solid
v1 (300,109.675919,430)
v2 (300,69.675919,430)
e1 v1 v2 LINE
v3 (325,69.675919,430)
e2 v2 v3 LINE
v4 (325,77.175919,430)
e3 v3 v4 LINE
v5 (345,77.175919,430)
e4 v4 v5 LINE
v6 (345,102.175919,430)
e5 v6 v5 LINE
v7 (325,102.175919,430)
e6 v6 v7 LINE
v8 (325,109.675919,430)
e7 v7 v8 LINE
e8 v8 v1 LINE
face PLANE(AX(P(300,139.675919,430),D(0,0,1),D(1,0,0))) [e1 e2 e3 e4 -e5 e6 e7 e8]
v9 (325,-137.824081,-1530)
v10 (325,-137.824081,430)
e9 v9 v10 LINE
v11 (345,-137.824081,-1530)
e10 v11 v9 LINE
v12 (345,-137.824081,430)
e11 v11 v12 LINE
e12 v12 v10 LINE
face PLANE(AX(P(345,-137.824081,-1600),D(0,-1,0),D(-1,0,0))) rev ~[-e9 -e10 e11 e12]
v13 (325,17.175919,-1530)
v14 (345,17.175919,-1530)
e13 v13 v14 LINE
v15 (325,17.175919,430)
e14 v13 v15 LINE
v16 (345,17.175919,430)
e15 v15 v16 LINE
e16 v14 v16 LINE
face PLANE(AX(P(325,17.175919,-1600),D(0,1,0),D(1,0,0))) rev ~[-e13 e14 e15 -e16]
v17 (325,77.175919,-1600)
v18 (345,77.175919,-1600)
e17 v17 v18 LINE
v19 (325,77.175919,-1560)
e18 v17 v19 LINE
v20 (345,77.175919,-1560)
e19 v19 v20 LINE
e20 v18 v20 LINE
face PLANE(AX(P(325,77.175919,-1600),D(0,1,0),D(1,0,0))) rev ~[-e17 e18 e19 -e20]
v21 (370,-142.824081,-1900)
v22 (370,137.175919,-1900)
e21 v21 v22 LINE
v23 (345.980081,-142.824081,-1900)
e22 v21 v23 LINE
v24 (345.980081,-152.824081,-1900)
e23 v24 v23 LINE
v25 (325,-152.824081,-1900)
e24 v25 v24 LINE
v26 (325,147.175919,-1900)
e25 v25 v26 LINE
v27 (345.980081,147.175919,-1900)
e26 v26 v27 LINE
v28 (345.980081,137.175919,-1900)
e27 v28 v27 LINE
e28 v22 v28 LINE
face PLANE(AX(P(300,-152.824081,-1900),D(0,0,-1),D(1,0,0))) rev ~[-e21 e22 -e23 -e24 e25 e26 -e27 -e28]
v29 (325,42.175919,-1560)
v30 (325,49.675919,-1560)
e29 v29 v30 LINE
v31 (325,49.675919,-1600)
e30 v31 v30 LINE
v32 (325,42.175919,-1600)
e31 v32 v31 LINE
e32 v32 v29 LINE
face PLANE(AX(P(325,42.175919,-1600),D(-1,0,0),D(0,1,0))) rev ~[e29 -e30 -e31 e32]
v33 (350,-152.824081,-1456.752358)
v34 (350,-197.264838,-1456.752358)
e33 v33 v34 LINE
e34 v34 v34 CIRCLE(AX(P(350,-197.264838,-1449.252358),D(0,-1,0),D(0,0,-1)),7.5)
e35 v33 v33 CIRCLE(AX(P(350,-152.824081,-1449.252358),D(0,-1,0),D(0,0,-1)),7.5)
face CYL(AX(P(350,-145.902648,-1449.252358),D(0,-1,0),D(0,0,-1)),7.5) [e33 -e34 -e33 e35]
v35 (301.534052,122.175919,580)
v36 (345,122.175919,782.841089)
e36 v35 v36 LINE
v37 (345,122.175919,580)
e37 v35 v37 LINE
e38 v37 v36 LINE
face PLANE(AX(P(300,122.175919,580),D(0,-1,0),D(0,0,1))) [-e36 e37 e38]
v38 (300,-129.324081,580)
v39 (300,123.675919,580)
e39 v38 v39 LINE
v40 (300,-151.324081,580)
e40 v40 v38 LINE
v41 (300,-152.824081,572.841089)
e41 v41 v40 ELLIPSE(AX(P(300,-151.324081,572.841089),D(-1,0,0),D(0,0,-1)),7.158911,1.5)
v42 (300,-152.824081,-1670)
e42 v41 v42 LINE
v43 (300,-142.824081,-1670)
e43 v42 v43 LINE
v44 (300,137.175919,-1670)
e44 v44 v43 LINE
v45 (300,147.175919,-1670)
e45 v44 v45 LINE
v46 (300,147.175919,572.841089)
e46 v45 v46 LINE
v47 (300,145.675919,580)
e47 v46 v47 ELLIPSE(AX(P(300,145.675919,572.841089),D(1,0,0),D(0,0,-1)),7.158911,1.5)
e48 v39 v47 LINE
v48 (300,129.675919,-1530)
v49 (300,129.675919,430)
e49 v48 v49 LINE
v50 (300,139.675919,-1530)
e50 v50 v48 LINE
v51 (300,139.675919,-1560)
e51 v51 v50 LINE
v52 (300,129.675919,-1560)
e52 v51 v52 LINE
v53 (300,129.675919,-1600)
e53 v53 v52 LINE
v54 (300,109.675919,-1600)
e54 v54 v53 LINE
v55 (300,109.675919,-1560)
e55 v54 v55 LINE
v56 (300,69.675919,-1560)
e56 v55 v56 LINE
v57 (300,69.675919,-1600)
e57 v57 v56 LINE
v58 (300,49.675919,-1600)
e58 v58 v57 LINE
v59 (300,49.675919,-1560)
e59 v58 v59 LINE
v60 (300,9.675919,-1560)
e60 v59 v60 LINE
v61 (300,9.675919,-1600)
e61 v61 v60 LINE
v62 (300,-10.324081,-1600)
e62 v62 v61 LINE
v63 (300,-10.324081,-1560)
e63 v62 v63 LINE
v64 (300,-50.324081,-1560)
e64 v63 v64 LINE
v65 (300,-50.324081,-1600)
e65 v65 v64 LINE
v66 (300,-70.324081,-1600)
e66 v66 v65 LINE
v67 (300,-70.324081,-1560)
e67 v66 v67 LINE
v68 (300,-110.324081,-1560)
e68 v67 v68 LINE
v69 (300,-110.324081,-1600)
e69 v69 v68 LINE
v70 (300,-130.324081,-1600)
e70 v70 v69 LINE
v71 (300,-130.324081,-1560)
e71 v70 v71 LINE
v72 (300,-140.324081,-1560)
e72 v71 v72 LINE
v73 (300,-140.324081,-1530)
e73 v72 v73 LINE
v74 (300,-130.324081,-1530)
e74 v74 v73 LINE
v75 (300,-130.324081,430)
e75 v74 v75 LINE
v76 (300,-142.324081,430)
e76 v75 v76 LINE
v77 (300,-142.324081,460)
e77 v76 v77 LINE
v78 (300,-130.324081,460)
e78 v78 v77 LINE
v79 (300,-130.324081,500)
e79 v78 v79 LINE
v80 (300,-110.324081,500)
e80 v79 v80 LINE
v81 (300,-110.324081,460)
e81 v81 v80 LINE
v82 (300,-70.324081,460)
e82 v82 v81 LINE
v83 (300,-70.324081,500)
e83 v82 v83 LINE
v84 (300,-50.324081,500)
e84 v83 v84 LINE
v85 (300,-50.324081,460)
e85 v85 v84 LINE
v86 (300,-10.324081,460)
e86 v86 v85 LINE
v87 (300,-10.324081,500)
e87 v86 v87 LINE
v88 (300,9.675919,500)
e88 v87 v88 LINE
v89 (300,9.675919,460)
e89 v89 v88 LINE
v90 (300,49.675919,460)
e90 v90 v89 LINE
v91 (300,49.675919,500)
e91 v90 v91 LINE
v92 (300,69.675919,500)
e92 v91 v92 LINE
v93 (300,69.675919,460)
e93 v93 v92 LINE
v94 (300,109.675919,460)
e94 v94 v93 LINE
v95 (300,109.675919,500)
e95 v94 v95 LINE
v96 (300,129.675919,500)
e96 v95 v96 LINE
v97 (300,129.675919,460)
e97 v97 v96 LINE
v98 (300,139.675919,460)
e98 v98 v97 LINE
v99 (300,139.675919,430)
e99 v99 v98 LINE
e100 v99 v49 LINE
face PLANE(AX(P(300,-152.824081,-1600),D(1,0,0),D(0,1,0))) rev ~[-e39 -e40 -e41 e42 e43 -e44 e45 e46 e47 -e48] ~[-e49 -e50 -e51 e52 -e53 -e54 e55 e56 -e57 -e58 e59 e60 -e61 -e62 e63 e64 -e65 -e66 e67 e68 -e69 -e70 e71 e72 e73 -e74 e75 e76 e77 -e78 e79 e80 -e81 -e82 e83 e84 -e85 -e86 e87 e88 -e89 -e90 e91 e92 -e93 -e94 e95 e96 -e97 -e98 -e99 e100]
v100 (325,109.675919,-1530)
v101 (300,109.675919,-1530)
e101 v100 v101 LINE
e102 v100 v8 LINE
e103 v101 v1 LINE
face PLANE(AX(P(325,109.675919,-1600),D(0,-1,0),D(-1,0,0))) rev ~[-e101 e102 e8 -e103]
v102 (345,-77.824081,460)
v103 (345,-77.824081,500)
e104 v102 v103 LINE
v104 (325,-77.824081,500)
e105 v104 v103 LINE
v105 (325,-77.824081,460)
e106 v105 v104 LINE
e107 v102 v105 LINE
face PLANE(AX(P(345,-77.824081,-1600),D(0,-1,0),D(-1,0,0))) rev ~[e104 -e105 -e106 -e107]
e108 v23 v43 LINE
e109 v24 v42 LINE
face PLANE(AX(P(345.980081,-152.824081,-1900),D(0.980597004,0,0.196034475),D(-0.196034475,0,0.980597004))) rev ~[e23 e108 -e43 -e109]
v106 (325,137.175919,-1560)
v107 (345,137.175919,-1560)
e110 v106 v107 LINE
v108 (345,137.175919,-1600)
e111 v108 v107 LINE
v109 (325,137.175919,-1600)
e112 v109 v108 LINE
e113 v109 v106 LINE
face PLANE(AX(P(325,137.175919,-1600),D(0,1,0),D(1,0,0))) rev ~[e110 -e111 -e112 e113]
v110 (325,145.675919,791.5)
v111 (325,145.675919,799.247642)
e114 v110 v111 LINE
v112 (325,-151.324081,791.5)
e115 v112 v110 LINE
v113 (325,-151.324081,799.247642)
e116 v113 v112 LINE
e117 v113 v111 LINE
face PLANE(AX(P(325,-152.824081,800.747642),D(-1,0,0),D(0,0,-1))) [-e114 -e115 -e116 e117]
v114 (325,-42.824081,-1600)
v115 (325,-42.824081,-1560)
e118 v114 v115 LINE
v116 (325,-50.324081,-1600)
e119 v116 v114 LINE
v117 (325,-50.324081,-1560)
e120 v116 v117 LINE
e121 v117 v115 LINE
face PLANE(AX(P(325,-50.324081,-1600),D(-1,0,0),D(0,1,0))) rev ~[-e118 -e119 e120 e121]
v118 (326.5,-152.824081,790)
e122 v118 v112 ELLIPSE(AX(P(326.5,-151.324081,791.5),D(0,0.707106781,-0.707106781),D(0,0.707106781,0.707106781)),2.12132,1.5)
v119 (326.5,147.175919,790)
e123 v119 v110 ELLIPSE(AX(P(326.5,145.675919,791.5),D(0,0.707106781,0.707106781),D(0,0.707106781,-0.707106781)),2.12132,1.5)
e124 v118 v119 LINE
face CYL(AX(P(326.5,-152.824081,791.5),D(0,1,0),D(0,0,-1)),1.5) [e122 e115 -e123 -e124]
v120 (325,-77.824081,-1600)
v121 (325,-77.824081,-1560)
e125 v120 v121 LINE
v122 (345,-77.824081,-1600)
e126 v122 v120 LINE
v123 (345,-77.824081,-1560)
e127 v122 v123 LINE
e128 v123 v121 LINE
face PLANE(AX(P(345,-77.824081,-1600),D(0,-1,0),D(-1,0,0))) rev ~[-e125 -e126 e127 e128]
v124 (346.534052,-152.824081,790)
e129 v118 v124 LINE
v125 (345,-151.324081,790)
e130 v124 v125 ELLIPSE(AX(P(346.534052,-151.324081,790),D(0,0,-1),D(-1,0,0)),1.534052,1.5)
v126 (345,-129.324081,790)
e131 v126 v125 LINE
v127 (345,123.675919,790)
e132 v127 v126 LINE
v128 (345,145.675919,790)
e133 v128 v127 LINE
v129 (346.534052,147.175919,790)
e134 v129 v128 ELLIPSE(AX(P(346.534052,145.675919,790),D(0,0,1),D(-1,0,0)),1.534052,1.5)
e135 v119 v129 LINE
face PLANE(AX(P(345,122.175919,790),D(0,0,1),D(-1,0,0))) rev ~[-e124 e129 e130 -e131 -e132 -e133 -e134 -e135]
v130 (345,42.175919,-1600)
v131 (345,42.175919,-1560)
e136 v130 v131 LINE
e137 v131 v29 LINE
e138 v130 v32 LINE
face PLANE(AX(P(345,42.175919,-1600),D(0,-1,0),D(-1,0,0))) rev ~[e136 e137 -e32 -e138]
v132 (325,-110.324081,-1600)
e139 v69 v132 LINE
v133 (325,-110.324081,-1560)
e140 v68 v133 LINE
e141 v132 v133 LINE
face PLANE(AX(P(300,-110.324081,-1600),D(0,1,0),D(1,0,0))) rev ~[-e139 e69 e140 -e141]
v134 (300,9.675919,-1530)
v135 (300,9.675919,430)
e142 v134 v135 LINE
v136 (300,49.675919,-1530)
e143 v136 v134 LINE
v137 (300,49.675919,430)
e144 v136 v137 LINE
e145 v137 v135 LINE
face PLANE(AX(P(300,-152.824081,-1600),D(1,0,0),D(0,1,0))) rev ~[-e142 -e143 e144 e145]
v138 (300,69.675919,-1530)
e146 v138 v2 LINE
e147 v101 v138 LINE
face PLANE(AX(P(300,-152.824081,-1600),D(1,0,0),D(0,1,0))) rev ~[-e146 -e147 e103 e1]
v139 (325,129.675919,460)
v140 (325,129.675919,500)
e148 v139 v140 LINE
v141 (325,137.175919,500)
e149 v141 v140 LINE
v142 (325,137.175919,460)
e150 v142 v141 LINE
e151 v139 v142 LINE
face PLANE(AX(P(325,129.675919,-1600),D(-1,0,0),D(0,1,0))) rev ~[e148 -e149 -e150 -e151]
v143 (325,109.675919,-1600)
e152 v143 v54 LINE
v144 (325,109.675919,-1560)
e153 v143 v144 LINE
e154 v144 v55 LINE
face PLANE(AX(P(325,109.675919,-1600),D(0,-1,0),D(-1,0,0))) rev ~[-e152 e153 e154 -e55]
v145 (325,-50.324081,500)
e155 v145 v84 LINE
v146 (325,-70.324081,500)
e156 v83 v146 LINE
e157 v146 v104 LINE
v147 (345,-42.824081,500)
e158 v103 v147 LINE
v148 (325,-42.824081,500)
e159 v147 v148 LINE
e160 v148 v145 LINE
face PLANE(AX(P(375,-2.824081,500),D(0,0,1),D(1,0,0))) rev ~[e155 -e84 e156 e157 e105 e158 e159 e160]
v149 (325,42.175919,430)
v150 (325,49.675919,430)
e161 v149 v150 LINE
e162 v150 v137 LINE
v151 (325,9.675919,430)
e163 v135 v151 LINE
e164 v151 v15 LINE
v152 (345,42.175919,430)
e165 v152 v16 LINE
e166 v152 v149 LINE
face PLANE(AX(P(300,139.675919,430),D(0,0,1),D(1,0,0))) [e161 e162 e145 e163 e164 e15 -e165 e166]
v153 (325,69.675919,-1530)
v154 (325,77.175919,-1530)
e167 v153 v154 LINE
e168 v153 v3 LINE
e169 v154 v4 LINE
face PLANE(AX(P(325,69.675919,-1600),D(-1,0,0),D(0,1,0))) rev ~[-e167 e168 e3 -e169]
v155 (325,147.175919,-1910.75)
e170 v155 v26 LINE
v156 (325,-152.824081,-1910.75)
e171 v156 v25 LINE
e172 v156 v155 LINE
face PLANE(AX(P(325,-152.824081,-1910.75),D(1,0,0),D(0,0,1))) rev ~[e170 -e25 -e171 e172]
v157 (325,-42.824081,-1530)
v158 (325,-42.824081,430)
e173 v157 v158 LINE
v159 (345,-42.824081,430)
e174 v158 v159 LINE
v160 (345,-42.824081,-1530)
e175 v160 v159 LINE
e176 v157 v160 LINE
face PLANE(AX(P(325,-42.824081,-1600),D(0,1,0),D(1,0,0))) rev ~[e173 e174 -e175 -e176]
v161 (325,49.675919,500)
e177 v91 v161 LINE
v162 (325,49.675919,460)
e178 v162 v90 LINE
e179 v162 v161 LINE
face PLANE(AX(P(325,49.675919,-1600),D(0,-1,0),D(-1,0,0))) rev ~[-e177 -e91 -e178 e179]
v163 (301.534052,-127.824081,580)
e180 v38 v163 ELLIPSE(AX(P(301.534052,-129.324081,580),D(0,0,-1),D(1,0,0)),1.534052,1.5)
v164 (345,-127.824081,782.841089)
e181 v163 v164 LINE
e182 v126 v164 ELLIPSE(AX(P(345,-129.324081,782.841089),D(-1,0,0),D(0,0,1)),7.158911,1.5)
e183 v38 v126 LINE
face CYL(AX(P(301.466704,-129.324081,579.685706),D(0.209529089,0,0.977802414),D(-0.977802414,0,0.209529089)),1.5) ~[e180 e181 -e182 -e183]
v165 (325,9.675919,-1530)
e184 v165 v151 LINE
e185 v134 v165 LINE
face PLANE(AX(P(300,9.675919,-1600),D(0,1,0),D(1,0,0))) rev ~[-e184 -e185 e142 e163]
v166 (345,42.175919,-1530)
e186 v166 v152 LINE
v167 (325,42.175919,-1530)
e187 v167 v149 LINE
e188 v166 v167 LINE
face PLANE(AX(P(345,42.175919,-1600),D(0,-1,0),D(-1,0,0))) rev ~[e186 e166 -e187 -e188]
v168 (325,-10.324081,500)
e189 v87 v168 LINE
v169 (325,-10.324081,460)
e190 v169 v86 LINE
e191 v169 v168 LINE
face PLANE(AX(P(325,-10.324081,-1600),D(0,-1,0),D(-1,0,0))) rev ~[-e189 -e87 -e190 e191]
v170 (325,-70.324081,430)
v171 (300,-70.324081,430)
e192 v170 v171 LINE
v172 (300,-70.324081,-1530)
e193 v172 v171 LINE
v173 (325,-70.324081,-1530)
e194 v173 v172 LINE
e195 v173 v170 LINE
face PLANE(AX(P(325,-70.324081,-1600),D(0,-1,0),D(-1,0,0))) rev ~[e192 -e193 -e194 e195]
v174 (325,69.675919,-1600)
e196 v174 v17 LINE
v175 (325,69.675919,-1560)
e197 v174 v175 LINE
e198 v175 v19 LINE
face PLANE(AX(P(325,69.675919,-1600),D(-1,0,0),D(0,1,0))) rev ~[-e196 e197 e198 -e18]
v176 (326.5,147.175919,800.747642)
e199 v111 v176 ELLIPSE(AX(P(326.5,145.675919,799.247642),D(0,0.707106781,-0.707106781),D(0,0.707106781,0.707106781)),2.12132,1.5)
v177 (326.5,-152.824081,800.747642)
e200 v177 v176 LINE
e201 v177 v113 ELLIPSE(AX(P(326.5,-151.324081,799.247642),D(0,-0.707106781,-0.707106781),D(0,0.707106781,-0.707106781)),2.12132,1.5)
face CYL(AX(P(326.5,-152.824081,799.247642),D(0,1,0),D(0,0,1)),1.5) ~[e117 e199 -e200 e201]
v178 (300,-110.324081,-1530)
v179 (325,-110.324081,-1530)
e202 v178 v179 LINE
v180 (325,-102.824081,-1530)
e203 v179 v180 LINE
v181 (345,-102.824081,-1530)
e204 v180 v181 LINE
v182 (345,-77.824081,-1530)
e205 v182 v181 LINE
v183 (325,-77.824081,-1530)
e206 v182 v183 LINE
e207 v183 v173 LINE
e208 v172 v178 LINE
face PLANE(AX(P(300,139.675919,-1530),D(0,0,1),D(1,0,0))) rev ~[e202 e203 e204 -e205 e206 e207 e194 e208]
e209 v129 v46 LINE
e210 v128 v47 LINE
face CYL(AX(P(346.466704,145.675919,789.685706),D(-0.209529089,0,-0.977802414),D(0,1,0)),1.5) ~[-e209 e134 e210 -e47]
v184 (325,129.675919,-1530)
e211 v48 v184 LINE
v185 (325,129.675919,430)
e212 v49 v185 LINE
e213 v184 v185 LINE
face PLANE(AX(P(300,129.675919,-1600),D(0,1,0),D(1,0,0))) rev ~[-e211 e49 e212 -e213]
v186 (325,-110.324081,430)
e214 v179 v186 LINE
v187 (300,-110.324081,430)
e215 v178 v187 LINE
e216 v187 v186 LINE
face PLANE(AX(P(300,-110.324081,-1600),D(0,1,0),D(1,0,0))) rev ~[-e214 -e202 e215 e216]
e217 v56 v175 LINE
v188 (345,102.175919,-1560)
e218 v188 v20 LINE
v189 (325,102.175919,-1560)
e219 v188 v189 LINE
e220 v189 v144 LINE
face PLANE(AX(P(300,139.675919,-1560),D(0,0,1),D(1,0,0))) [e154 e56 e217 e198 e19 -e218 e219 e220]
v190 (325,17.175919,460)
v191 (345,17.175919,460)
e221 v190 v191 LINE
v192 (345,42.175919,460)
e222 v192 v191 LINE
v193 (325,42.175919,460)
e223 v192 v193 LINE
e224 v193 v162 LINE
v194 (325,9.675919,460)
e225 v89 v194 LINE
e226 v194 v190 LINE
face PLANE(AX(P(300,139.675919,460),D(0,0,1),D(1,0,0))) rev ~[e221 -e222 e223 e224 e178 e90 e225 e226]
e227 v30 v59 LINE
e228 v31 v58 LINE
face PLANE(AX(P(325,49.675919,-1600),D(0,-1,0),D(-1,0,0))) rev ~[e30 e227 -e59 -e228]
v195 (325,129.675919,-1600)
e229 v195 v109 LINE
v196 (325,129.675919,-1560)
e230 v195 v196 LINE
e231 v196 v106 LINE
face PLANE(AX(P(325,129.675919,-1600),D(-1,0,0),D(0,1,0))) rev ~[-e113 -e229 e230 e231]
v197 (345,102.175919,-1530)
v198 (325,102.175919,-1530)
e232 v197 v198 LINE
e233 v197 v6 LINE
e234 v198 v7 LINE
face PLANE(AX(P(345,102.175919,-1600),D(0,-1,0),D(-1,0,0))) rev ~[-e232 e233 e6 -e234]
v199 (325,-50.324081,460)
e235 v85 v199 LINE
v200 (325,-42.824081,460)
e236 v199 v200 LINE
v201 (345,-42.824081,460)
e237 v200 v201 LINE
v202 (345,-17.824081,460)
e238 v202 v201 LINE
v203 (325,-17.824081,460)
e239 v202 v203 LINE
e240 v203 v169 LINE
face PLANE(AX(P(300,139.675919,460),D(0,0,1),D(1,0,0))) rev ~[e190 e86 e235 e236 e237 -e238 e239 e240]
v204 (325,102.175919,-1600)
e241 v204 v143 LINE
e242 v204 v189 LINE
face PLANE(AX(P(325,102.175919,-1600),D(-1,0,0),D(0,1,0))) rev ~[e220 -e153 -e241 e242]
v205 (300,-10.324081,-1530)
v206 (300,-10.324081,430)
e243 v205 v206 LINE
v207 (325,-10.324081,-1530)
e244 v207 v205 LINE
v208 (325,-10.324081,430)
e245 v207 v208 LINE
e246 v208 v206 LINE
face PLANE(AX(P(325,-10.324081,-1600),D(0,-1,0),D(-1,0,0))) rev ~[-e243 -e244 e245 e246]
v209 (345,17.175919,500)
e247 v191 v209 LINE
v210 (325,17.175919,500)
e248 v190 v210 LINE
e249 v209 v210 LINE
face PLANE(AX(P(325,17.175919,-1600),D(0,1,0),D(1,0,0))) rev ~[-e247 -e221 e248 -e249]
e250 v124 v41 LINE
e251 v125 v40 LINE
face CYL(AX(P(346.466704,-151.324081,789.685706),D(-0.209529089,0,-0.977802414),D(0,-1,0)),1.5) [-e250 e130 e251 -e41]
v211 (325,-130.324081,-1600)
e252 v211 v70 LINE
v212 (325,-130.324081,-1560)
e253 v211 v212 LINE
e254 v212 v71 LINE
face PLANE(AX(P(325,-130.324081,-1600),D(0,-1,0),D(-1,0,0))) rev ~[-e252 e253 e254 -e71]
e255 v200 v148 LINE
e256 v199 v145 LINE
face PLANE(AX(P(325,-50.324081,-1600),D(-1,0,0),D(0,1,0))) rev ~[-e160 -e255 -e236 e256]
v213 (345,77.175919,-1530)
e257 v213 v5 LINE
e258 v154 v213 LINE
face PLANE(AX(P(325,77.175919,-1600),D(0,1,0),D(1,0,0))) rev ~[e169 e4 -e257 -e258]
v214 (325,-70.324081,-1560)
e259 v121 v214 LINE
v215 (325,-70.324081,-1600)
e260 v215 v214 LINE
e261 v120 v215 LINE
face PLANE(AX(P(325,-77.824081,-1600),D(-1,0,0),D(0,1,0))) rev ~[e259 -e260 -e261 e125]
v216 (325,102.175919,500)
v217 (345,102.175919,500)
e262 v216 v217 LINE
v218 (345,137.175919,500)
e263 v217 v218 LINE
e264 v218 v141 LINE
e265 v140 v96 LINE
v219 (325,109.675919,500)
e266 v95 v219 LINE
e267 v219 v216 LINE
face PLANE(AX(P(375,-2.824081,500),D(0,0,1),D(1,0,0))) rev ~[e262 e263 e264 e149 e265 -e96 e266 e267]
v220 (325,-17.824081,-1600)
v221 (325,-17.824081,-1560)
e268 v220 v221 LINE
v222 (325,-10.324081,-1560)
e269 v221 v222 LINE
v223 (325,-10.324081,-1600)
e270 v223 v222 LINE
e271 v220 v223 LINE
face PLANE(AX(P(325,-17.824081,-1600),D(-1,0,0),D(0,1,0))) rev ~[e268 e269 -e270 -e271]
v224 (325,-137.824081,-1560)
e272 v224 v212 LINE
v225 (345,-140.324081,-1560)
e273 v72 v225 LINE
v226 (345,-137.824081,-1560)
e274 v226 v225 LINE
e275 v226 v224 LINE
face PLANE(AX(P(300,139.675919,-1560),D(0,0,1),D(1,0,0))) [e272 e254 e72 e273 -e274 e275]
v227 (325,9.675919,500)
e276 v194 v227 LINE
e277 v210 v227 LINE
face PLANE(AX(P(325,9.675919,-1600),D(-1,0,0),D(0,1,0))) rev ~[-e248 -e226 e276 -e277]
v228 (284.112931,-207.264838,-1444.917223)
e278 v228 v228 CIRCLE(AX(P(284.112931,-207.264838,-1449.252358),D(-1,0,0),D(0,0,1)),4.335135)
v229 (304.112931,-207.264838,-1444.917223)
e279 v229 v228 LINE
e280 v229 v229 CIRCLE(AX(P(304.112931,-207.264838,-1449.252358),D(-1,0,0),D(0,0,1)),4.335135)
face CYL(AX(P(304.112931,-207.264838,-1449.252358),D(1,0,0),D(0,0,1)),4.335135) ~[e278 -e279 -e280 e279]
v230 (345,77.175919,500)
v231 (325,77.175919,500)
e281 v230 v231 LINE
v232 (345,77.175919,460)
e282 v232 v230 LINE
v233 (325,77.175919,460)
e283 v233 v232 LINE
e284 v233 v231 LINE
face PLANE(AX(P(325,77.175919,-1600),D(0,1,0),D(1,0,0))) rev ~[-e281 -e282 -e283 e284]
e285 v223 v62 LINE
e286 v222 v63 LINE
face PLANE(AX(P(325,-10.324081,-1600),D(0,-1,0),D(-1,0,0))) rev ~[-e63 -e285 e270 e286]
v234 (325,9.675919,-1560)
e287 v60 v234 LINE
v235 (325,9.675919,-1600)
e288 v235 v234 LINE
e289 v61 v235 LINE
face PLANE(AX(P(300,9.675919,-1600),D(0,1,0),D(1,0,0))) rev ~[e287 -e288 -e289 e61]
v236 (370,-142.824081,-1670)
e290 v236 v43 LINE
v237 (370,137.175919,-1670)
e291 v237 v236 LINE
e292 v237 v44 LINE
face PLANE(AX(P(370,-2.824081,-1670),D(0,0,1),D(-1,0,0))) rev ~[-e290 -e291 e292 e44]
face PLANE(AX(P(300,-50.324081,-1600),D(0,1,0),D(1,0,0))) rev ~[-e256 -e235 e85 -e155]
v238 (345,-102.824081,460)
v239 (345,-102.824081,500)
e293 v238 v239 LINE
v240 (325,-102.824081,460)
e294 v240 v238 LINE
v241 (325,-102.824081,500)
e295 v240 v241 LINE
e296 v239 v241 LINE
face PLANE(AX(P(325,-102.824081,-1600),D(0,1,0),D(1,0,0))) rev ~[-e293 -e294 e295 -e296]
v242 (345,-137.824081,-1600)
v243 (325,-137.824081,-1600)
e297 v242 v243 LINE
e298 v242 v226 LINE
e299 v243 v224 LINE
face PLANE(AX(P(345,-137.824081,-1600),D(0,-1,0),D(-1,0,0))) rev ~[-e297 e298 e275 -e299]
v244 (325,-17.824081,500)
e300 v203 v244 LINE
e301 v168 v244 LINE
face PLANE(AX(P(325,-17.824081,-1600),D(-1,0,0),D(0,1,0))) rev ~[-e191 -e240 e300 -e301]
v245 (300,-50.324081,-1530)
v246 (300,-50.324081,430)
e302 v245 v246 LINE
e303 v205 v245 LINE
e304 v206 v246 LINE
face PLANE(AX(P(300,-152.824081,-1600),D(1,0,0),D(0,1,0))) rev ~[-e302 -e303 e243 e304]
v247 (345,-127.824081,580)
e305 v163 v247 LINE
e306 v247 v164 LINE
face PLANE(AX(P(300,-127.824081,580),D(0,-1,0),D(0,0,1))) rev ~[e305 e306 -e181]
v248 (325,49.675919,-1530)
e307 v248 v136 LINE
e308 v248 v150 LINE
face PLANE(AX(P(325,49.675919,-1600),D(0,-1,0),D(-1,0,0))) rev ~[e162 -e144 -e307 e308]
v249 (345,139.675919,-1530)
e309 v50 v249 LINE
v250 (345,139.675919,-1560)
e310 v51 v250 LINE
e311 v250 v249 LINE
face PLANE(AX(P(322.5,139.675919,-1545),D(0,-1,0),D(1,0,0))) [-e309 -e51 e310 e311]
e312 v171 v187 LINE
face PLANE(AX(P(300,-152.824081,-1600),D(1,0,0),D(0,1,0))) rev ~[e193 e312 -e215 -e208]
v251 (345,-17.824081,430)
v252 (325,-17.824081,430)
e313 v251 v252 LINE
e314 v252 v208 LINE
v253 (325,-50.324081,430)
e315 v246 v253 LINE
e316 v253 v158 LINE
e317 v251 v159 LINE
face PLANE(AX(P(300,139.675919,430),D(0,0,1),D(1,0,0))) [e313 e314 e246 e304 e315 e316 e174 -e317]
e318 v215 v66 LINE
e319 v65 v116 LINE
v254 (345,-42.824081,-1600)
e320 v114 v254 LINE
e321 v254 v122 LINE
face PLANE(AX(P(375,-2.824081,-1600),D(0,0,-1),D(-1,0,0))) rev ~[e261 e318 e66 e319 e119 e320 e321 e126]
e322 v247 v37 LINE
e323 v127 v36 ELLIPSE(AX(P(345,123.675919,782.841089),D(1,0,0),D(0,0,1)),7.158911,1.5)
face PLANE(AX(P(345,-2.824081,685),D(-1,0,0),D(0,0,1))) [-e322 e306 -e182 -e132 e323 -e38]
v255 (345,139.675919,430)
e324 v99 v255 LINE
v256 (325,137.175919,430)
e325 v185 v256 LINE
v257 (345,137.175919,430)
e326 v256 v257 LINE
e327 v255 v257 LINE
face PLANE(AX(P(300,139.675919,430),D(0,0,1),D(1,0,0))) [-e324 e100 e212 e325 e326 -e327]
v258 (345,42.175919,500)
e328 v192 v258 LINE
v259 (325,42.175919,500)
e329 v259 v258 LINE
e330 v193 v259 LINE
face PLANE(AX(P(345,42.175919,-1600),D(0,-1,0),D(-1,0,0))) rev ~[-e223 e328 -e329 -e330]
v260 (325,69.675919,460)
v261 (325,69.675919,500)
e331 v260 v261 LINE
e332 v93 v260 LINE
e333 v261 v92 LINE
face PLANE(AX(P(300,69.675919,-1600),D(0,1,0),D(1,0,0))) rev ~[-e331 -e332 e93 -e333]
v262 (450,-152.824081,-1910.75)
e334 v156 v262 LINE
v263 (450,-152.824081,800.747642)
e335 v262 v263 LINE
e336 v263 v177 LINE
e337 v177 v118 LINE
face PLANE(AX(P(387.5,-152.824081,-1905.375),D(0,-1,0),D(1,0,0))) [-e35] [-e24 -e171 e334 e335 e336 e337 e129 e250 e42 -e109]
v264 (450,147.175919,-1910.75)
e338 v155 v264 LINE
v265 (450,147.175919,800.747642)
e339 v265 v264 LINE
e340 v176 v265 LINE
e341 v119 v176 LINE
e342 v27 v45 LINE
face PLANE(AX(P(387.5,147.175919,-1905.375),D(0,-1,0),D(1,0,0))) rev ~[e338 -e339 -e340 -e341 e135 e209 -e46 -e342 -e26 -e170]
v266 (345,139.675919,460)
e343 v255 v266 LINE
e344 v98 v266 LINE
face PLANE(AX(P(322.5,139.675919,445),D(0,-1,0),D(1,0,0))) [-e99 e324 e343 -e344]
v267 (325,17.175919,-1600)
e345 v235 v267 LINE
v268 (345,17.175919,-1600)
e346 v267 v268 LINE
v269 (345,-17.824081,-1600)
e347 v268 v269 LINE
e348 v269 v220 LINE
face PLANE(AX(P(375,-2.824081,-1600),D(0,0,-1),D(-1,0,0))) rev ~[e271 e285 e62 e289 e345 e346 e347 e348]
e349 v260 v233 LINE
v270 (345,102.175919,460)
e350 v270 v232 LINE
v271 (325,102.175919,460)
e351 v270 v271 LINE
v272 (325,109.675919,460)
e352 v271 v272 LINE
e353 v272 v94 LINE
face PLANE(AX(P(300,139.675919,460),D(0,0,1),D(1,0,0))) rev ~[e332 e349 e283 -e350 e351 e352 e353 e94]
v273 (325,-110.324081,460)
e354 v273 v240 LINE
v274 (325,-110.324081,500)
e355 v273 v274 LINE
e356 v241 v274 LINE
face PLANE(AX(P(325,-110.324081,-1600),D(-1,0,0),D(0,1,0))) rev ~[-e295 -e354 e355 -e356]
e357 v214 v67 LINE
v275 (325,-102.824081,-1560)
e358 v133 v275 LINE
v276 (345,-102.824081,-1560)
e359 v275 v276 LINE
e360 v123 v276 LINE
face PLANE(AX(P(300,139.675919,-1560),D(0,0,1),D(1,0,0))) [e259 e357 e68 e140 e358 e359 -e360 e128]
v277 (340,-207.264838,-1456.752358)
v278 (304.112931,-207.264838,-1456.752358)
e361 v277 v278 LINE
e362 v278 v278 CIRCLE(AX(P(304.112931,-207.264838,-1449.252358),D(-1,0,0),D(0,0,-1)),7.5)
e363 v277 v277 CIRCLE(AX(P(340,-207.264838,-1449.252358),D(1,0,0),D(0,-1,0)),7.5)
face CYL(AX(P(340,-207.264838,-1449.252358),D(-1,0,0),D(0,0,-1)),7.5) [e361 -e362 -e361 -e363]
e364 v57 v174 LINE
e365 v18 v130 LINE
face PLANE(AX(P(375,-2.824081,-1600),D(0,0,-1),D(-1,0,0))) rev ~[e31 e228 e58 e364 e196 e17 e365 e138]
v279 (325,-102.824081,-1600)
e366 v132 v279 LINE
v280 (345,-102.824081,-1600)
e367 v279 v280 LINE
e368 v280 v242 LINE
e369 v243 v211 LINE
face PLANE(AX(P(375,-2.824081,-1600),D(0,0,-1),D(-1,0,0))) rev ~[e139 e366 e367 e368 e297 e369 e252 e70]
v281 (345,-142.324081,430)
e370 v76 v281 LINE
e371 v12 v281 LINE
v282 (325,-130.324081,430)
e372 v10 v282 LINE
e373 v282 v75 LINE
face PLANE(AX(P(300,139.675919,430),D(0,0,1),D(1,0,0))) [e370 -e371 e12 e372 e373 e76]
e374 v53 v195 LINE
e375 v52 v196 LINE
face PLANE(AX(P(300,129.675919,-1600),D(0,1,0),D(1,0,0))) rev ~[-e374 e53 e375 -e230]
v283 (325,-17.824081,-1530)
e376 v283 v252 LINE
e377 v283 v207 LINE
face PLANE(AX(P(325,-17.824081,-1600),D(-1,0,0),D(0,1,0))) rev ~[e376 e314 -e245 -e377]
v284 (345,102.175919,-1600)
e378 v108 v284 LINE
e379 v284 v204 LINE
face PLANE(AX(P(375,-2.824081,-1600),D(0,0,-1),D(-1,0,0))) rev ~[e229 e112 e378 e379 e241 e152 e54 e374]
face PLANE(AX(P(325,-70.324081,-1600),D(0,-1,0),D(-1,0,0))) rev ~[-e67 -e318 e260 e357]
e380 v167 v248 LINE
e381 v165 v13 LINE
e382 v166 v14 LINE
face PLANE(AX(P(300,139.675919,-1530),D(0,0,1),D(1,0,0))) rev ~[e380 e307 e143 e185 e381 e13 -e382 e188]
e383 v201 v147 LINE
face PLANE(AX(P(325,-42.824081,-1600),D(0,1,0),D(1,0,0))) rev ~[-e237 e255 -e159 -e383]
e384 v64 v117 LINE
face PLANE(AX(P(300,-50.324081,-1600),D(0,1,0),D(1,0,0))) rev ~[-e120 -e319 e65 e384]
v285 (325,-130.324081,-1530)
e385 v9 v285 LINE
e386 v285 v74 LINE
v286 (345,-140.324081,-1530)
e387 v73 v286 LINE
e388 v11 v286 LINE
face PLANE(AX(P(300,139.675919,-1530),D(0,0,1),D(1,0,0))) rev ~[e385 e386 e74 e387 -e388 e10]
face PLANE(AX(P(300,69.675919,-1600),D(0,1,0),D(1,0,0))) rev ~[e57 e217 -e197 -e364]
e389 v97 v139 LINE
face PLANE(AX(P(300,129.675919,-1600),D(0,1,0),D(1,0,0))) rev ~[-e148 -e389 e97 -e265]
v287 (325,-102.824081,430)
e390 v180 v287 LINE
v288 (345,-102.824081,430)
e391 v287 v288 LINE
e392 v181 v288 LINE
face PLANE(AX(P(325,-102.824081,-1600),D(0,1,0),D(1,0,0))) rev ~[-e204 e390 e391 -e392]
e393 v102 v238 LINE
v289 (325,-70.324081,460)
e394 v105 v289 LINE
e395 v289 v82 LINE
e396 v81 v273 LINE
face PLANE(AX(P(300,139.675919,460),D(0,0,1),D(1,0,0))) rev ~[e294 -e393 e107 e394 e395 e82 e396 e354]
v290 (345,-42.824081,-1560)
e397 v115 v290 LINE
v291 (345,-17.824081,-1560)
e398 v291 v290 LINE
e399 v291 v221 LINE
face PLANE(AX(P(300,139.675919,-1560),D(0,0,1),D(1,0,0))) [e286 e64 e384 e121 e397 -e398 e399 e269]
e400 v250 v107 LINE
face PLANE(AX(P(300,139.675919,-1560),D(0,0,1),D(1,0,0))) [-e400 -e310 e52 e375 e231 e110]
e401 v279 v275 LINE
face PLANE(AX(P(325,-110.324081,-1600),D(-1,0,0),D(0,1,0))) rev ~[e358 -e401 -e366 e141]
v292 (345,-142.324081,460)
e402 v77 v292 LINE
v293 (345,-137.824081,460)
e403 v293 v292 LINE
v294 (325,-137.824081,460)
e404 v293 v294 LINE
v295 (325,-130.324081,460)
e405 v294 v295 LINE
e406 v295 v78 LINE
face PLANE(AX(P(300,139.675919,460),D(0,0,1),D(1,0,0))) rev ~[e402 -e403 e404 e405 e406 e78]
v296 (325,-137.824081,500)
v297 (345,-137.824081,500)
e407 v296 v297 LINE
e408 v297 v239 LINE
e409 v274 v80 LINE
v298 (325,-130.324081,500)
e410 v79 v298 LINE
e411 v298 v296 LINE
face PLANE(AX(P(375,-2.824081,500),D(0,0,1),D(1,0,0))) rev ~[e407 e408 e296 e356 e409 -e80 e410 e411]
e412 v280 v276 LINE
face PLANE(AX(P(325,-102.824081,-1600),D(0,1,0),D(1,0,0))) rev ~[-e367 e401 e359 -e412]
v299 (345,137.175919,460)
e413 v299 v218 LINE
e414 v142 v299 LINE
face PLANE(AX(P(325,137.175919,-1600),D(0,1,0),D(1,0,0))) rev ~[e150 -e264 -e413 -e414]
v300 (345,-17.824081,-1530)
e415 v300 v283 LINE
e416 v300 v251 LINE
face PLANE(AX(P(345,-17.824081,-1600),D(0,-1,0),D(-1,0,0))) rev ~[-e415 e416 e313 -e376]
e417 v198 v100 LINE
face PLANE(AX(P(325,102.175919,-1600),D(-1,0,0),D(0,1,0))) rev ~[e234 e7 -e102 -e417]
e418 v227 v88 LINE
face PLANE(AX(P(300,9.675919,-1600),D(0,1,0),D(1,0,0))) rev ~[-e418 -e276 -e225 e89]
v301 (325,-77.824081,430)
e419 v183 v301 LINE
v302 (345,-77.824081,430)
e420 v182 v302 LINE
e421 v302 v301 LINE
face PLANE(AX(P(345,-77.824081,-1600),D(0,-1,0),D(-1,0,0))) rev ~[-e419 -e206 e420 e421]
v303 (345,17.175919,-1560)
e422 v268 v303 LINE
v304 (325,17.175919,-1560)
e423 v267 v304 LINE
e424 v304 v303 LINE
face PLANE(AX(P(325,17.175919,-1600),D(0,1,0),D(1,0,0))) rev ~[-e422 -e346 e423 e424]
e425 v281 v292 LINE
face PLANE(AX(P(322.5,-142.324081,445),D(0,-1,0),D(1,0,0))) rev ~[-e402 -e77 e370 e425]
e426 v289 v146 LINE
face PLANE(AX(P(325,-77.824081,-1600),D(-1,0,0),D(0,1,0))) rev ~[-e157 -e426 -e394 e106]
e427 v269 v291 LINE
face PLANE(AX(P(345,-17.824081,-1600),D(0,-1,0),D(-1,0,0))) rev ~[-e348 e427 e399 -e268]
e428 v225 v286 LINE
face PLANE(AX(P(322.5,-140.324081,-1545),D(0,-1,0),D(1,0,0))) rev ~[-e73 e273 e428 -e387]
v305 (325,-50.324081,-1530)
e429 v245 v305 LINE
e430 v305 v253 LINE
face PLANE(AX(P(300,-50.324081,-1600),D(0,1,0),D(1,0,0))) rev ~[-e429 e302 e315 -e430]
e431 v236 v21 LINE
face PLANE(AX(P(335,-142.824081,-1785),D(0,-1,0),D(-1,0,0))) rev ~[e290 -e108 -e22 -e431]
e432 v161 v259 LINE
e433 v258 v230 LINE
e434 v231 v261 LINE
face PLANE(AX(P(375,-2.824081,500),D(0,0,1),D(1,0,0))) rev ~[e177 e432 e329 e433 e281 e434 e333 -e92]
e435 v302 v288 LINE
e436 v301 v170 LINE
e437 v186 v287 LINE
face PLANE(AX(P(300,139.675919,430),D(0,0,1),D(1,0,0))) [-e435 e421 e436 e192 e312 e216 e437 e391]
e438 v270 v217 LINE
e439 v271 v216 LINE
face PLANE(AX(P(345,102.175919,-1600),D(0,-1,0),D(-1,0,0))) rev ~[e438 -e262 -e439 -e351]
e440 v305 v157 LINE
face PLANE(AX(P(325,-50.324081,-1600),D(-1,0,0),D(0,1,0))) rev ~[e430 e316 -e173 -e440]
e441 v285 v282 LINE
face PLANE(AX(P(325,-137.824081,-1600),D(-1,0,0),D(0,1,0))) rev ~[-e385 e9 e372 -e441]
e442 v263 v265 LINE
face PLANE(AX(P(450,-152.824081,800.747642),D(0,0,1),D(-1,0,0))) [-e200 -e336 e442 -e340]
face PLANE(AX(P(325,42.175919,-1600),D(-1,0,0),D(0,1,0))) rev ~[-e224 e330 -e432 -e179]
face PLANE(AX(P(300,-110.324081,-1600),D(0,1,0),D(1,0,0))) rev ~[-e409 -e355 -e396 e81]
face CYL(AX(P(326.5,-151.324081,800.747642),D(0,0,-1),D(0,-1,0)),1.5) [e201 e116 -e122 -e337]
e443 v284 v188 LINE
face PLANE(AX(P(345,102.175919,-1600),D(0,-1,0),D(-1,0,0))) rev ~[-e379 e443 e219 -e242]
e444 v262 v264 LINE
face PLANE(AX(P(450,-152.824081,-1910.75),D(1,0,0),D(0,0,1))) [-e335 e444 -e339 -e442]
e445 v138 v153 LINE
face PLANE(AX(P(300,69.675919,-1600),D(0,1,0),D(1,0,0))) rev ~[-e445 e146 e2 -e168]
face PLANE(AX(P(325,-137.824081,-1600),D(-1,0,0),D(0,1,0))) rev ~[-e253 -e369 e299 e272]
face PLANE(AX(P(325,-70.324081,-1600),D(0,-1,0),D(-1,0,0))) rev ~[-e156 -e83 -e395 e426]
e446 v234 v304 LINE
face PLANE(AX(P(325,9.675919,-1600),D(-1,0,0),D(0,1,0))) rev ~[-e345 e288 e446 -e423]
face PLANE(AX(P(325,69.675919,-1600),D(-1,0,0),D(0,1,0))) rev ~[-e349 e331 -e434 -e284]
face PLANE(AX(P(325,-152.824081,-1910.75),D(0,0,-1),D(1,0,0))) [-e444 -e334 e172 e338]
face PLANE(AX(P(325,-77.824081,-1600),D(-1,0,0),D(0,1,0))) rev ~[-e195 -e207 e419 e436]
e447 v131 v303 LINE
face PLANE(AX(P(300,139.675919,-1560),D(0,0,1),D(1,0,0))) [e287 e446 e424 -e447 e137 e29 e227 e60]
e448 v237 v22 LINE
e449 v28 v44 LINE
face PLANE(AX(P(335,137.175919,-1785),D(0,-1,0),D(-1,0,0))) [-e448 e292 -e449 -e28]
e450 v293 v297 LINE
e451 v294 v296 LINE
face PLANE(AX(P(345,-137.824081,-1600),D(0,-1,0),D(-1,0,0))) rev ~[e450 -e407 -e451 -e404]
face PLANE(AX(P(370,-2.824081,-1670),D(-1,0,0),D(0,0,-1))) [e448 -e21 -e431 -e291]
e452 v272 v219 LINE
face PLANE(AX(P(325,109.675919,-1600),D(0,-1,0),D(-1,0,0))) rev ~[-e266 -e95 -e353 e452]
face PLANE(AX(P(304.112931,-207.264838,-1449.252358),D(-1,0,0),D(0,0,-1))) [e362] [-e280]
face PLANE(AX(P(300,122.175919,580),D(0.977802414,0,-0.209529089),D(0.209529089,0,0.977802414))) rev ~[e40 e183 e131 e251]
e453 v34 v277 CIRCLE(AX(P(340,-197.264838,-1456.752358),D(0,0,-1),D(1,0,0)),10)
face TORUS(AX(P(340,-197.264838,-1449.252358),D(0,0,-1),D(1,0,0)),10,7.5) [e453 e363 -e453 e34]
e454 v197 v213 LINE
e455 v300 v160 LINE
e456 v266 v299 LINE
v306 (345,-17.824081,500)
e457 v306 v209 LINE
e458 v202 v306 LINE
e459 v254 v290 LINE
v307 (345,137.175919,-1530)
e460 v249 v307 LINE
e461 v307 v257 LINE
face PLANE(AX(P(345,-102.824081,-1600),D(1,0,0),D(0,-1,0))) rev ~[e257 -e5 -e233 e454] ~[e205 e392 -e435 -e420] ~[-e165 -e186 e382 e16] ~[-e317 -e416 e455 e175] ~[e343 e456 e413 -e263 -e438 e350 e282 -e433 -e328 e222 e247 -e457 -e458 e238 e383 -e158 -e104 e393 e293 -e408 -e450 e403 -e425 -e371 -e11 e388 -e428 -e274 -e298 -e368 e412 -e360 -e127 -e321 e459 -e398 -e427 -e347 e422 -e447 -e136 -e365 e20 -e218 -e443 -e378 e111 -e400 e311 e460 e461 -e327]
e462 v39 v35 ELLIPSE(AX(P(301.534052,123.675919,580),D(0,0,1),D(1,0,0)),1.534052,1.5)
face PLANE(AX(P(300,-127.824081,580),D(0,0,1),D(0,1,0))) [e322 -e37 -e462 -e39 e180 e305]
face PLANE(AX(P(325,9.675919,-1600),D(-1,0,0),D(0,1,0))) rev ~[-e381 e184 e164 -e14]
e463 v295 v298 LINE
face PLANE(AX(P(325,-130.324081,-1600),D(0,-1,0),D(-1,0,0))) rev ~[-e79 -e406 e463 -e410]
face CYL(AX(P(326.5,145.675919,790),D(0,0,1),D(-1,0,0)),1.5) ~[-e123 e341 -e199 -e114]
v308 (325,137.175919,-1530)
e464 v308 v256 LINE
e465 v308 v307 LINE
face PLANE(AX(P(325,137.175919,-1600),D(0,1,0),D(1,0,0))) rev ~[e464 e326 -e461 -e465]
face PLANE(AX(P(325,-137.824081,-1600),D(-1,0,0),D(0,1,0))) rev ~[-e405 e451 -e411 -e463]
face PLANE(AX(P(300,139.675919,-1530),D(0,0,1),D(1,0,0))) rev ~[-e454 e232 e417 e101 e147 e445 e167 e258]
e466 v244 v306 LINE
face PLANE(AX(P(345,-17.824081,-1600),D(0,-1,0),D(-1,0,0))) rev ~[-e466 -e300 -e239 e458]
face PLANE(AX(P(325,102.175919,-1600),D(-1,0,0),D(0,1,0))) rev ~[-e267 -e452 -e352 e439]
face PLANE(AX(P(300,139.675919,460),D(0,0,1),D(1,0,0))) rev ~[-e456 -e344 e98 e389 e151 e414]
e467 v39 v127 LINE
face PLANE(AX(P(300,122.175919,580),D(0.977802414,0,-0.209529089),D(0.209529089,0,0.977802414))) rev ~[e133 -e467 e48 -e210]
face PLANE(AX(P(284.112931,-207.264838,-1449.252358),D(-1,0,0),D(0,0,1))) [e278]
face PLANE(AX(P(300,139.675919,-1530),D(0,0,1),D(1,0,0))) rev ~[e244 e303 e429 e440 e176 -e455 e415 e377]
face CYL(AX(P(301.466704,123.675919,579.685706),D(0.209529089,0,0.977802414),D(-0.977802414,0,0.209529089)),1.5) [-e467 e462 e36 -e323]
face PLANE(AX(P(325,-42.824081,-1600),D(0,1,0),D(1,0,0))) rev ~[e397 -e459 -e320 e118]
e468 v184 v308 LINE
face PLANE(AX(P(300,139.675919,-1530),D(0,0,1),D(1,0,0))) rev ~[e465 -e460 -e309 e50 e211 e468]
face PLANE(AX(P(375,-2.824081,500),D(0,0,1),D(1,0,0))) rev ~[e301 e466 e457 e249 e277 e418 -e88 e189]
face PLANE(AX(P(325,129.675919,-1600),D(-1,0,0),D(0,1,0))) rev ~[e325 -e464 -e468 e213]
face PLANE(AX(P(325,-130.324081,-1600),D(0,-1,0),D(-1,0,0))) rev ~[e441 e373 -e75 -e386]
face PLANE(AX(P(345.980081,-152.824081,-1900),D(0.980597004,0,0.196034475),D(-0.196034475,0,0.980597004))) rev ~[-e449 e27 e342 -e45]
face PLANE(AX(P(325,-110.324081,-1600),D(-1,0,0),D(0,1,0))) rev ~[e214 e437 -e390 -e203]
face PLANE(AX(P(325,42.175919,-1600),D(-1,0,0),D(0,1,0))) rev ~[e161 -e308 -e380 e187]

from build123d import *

# Parameters (mm, degrees)
BOSS_EXTRUDE1_DEPTH      = 500
BOSS_EXTRUDE1_DEPTH_BACK = 1600
SKETCH1_W                = 150
SKETCH1_H                = 300
CUT_EXTRUDE1_DEPTH       = 2309
SKETCH5_W                = 150
SKETCH5_H                = 300
BOSS_EXTRUDE2_DEPTH      = 350
SKETCH6_W                = 210
SKETCH6_H                = 250
CUT_EXTRUDE4_DEPTH       = 45
CUT_EXTRUDE5_DEPTH       = 1500
CUT_EXTRUDE7_DEPTH       = 355
FILLET8_R                = 1.5
FILLET9_R                = 1.5
SKETCH9_W                = 150
SKETCH9_H                = 300
BOSS_EXTRUDE3_DEPTH      = 300
SKETCH10_W               = 70
SKETCH10_H               = 230
CUT_EXTRUDE17_DEPTH      = 140
SKETCH11_W               = 125
SKETCH11_H               = 10.75
BOSS_EXTRUDE4_DEPTH      = 300
CUT_EXTRUDE18_DEPTH      = 394
SWEEP1_PROFILE_R         = 7.5
SKETCH50_R               = 4.335134875
BOSS_EXTRUDE5_DEPTH      = 20
CUT_EXTRUDE19_DEPTH      = 30
CUT_EXTRUDE19_DEPTH_BACK = 250
SKETCH82_W               = 45
SKETCH82_H               = 30
CUT_EXTRUDE20_DEPTH      = 32
CUT_EXTRUDE20_DEPTH_BACK = 250
SKETCH85_W               = 45
SKETCH85_H               = 30


with BuildPart() as part:
    # Sketch1 → Boss-Extrude1 (new, two sides: drawn at the far end of the back side and taken through both)
    with BuildSketch(Plane.XY.offset(-BOSS_EXTRUDE1_DEPTH_BACK)):
        with Locations((375, -2.824081205)):
            Rectangle(SKETCH1_W, SKETCH1_H)
    extrude(amount=BOSS_EXTRUDE1_DEPTH + BOSS_EXTRUDE1_DEPTH_BACK)

    # Sketch2 → Cut-Extrude1 (cut)
    with BuildSketch(Plane(origin=(0, 0, -1600), x_dir=(-1, 0, 0), z_dir=(0, 0, -1))):
        Polygon((-300, 49.675918795), (-300, 69.675918795), (-325, 69.675918795), (-325, 77.175918795), (-345, 77.175918795), (-345, 42.175918795), (-325, 42.175918795), (-325, 49.675918795), align=None)
        Polygon((-300, 129.675918795), (-325, 129.675918795), (-325, 137.175918795), (-345, 137.175918795), (-345, 102.175918795), (-325, 102.175918795), (-325, 109.675918795), (-300, 109.675918795), align=None)
        Polygon((-300, -10.324081205), (-300, 9.675918795), (-325, 9.675918795), (-325, 17.175918795), (-345, 17.175918795), (-345, -17.824081205), (-325, -17.824081205), (-325, -10.324081205), align=None)
        Polygon((-300, -70.324081205), (-300, -50.324081205), (-325, -50.324081205), (-325, -42.824081205), (-345, -42.824081205), (-345, -77.824081205), (-325, -77.824081205), (-325, -70.324081205), align=None)
        Polygon((-300, -130.324081205), (-300, -110.324081205), (-325, -110.324081205), (-325, -102.824081205), (-345, -102.824081205), (-345, -137.824081205), (-325, -137.824081205), (-325, -130.324081205), align=None)
    extrude(amount=-CUT_EXTRUDE1_DEPTH, mode=Mode.SUBTRACT)

    # Sketch5 → Boss-Extrude2 (add)
    with BuildSketch(Plane.XY.offset(500)):
        with Locations((375, -2.824081205)):
            Rectangle(SKETCH5_W, SKETCH5_H)
    extrude(amount=BOSS_EXTRUDE2_DEPTH)

    # Sketch6 → Cut-Extrude4 (cut)
    with BuildSketch(Plane.ZY.offset(-300)):
        with Locations((685, -2.824081205)):
            Rectangle(SKETCH6_W, SKETCH6_H)
    extrude(amount=-CUT_EXTRUDE4_DEPTH, mode=Mode.SUBTRACT)

    # Sketch7 → Cut-Extrude5 (cut, symmetric)
    with BuildSketch(Plane.XZ.offset(-122.175918795)):
        Polygon((300, 580), (345, 790), (300, 790), align=None)
    extrude(amount=CUT_EXTRUDE5_DEPTH, both=True, mode=Mode.SUBTRACT)

    # Sketch8 → Cut-Extrude7 (cut)
    with BuildSketch(Plane.XZ.offset(152.824081205)):
        Polygon((450, 850), (450, 800.747642435), (325, 800.747642435), (325, 790), (300, 790), (300, 850), align=None)
    extrude(amount=-CUT_EXTRUDE7_DEPTH, mode=Mode.SUBTRACT)

    # Fillet8
    fillet8_edges = [part.edges().sort_by_distance(p)[0] for p in [
        (325, -2.824081205, 790),
        (325, 147.175918795, 795.373821218),
        (325, -2.824081205, 800.747642435),
        (325, -152.824081205, 795.373821218),
    ]]
    fillet(fillet8_edges, radius=FILLET8_R)

    # Fillet9
    fillet9_edges = [part.edges().sort_by_distance(p)[0] for p in [
        (322.5, -152.824081205, 685),
        (322.5, 147.175918795, 685),
        (322.5, 122.175918795, 685),
        (322.5, -127.824081205, 685),
    ]]
    fillet(fillet9_edges, radius=FILLET9_R)

    # Sketch9 → Boss-Extrude3 (add)
    with BuildSketch(Plane(origin=(0, 0, -1600), x_dir=(-1, 0, 0), z_dir=(0, 0, -1))):
        with Locations((-375, -2.824081205)):
            Rectangle(SKETCH9_W, SKETCH9_H)
    extrude(amount=BOSS_EXTRUDE3_DEPTH)

    # Sketch10 → Cut-Extrude17 (cut, symmetric)
    with BuildSketch(Plane(origin=(0, -2.824081205, 0), x_dir=(-1, 0, 0), z_dir=(0, -1, 0))):
        with Locations((-335, 1785)):
            Rectangle(SKETCH10_W, SKETCH10_H)
    extrude(amount=CUT_EXTRUDE17_DEPTH, both=True, mode=Mode.SUBTRACT)

    # Sketch11 → Boss-Extrude4 (add)
    with BuildSketch(Plane.XZ.offset(152.824081205)):
        with Locations((387.5, -1905.375)):
            Rectangle(SKETCH11_W, SKETCH11_H)
    extrude(amount=-BOSS_EXTRUDE4_DEPTH)

    # Sketch13 → Cut-Extrude18 (cut)
    with BuildSketch(Plane.XZ.offset(152.824081205)):
        Polygon((300, -1900), (345.980080602, -1900), (300, -1670), align=None)
    extrude(amount=-CUT_EXTRUDE18_DEPTH, mode=Mode.SUBTRACT)

    # Sweep1: sweep along a path in Sketch15
    with BuildLine(Plane.XY.offset(-1449.252357565)) as sweep1_path:
        Line((350, -145.902648046), (350, -197.264838167))
        ThreePointArc((350, -197.264838167), (347.071067812, -204.335905979), (340, -207.264838167))
        Line((340, -207.264838167), (304.112930958, -207.264838167))
    # Sweep1 profile (on start of the path) → Sweep1 (sweep)
    with BuildSketch(Plane(origin=(350, -145.902648046, -1449.252357565), x_dir=(0, 0, -1), z_dir=(0, -1, 0))):
        Circle(SWEEP1_PROFILE_R)
    sweep(path=sweep1_path.line)

    # Sketch50 → Boss-Extrude5 (add)
    with BuildSketch(Plane.ZY.offset(-304.112930958)):
        with Locations((-1449.252357565, -207.264838167)):
            Circle(SKETCH50_R)
    extrude(amount=BOSS_EXTRUDE5_DEPTH)

    # Sketch82 → Cut-Extrude19 (cut, two sides: drawn at the far end of the back side and taken through both)
    with BuildSketch(Plane.XZ.offset(110.324081205).offset(-CUT_EXTRUDE19_DEPTH_BACK)):
        with Locations((322.5, -1545)):
            Rectangle(SKETCH82_W, SKETCH82_H)
    extrude(amount=CUT_EXTRUDE19_DEPTH + CUT_EXTRUDE19_DEPTH_BACK, mode=Mode.SUBTRACT)

    # Sketch85 → Cut-Extrude20 (cut, two sides: drawn at the far end of the back side and taken through both)
    with BuildSketch(Plane.XZ.offset(110.324081205).offset(-CUT_EXTRUDE20_DEPTH_BACK)):
        with Locations((322.5, 445)):
            Rectangle(SKETCH85_W, SKETCH85_H)
    extrude(amount=CUT_EXTRUDE20_DEPTH + CUT_EXTRUDE20_DEPTH_BACK, mode=Mode.SUBTRACT)


solid = part.part
